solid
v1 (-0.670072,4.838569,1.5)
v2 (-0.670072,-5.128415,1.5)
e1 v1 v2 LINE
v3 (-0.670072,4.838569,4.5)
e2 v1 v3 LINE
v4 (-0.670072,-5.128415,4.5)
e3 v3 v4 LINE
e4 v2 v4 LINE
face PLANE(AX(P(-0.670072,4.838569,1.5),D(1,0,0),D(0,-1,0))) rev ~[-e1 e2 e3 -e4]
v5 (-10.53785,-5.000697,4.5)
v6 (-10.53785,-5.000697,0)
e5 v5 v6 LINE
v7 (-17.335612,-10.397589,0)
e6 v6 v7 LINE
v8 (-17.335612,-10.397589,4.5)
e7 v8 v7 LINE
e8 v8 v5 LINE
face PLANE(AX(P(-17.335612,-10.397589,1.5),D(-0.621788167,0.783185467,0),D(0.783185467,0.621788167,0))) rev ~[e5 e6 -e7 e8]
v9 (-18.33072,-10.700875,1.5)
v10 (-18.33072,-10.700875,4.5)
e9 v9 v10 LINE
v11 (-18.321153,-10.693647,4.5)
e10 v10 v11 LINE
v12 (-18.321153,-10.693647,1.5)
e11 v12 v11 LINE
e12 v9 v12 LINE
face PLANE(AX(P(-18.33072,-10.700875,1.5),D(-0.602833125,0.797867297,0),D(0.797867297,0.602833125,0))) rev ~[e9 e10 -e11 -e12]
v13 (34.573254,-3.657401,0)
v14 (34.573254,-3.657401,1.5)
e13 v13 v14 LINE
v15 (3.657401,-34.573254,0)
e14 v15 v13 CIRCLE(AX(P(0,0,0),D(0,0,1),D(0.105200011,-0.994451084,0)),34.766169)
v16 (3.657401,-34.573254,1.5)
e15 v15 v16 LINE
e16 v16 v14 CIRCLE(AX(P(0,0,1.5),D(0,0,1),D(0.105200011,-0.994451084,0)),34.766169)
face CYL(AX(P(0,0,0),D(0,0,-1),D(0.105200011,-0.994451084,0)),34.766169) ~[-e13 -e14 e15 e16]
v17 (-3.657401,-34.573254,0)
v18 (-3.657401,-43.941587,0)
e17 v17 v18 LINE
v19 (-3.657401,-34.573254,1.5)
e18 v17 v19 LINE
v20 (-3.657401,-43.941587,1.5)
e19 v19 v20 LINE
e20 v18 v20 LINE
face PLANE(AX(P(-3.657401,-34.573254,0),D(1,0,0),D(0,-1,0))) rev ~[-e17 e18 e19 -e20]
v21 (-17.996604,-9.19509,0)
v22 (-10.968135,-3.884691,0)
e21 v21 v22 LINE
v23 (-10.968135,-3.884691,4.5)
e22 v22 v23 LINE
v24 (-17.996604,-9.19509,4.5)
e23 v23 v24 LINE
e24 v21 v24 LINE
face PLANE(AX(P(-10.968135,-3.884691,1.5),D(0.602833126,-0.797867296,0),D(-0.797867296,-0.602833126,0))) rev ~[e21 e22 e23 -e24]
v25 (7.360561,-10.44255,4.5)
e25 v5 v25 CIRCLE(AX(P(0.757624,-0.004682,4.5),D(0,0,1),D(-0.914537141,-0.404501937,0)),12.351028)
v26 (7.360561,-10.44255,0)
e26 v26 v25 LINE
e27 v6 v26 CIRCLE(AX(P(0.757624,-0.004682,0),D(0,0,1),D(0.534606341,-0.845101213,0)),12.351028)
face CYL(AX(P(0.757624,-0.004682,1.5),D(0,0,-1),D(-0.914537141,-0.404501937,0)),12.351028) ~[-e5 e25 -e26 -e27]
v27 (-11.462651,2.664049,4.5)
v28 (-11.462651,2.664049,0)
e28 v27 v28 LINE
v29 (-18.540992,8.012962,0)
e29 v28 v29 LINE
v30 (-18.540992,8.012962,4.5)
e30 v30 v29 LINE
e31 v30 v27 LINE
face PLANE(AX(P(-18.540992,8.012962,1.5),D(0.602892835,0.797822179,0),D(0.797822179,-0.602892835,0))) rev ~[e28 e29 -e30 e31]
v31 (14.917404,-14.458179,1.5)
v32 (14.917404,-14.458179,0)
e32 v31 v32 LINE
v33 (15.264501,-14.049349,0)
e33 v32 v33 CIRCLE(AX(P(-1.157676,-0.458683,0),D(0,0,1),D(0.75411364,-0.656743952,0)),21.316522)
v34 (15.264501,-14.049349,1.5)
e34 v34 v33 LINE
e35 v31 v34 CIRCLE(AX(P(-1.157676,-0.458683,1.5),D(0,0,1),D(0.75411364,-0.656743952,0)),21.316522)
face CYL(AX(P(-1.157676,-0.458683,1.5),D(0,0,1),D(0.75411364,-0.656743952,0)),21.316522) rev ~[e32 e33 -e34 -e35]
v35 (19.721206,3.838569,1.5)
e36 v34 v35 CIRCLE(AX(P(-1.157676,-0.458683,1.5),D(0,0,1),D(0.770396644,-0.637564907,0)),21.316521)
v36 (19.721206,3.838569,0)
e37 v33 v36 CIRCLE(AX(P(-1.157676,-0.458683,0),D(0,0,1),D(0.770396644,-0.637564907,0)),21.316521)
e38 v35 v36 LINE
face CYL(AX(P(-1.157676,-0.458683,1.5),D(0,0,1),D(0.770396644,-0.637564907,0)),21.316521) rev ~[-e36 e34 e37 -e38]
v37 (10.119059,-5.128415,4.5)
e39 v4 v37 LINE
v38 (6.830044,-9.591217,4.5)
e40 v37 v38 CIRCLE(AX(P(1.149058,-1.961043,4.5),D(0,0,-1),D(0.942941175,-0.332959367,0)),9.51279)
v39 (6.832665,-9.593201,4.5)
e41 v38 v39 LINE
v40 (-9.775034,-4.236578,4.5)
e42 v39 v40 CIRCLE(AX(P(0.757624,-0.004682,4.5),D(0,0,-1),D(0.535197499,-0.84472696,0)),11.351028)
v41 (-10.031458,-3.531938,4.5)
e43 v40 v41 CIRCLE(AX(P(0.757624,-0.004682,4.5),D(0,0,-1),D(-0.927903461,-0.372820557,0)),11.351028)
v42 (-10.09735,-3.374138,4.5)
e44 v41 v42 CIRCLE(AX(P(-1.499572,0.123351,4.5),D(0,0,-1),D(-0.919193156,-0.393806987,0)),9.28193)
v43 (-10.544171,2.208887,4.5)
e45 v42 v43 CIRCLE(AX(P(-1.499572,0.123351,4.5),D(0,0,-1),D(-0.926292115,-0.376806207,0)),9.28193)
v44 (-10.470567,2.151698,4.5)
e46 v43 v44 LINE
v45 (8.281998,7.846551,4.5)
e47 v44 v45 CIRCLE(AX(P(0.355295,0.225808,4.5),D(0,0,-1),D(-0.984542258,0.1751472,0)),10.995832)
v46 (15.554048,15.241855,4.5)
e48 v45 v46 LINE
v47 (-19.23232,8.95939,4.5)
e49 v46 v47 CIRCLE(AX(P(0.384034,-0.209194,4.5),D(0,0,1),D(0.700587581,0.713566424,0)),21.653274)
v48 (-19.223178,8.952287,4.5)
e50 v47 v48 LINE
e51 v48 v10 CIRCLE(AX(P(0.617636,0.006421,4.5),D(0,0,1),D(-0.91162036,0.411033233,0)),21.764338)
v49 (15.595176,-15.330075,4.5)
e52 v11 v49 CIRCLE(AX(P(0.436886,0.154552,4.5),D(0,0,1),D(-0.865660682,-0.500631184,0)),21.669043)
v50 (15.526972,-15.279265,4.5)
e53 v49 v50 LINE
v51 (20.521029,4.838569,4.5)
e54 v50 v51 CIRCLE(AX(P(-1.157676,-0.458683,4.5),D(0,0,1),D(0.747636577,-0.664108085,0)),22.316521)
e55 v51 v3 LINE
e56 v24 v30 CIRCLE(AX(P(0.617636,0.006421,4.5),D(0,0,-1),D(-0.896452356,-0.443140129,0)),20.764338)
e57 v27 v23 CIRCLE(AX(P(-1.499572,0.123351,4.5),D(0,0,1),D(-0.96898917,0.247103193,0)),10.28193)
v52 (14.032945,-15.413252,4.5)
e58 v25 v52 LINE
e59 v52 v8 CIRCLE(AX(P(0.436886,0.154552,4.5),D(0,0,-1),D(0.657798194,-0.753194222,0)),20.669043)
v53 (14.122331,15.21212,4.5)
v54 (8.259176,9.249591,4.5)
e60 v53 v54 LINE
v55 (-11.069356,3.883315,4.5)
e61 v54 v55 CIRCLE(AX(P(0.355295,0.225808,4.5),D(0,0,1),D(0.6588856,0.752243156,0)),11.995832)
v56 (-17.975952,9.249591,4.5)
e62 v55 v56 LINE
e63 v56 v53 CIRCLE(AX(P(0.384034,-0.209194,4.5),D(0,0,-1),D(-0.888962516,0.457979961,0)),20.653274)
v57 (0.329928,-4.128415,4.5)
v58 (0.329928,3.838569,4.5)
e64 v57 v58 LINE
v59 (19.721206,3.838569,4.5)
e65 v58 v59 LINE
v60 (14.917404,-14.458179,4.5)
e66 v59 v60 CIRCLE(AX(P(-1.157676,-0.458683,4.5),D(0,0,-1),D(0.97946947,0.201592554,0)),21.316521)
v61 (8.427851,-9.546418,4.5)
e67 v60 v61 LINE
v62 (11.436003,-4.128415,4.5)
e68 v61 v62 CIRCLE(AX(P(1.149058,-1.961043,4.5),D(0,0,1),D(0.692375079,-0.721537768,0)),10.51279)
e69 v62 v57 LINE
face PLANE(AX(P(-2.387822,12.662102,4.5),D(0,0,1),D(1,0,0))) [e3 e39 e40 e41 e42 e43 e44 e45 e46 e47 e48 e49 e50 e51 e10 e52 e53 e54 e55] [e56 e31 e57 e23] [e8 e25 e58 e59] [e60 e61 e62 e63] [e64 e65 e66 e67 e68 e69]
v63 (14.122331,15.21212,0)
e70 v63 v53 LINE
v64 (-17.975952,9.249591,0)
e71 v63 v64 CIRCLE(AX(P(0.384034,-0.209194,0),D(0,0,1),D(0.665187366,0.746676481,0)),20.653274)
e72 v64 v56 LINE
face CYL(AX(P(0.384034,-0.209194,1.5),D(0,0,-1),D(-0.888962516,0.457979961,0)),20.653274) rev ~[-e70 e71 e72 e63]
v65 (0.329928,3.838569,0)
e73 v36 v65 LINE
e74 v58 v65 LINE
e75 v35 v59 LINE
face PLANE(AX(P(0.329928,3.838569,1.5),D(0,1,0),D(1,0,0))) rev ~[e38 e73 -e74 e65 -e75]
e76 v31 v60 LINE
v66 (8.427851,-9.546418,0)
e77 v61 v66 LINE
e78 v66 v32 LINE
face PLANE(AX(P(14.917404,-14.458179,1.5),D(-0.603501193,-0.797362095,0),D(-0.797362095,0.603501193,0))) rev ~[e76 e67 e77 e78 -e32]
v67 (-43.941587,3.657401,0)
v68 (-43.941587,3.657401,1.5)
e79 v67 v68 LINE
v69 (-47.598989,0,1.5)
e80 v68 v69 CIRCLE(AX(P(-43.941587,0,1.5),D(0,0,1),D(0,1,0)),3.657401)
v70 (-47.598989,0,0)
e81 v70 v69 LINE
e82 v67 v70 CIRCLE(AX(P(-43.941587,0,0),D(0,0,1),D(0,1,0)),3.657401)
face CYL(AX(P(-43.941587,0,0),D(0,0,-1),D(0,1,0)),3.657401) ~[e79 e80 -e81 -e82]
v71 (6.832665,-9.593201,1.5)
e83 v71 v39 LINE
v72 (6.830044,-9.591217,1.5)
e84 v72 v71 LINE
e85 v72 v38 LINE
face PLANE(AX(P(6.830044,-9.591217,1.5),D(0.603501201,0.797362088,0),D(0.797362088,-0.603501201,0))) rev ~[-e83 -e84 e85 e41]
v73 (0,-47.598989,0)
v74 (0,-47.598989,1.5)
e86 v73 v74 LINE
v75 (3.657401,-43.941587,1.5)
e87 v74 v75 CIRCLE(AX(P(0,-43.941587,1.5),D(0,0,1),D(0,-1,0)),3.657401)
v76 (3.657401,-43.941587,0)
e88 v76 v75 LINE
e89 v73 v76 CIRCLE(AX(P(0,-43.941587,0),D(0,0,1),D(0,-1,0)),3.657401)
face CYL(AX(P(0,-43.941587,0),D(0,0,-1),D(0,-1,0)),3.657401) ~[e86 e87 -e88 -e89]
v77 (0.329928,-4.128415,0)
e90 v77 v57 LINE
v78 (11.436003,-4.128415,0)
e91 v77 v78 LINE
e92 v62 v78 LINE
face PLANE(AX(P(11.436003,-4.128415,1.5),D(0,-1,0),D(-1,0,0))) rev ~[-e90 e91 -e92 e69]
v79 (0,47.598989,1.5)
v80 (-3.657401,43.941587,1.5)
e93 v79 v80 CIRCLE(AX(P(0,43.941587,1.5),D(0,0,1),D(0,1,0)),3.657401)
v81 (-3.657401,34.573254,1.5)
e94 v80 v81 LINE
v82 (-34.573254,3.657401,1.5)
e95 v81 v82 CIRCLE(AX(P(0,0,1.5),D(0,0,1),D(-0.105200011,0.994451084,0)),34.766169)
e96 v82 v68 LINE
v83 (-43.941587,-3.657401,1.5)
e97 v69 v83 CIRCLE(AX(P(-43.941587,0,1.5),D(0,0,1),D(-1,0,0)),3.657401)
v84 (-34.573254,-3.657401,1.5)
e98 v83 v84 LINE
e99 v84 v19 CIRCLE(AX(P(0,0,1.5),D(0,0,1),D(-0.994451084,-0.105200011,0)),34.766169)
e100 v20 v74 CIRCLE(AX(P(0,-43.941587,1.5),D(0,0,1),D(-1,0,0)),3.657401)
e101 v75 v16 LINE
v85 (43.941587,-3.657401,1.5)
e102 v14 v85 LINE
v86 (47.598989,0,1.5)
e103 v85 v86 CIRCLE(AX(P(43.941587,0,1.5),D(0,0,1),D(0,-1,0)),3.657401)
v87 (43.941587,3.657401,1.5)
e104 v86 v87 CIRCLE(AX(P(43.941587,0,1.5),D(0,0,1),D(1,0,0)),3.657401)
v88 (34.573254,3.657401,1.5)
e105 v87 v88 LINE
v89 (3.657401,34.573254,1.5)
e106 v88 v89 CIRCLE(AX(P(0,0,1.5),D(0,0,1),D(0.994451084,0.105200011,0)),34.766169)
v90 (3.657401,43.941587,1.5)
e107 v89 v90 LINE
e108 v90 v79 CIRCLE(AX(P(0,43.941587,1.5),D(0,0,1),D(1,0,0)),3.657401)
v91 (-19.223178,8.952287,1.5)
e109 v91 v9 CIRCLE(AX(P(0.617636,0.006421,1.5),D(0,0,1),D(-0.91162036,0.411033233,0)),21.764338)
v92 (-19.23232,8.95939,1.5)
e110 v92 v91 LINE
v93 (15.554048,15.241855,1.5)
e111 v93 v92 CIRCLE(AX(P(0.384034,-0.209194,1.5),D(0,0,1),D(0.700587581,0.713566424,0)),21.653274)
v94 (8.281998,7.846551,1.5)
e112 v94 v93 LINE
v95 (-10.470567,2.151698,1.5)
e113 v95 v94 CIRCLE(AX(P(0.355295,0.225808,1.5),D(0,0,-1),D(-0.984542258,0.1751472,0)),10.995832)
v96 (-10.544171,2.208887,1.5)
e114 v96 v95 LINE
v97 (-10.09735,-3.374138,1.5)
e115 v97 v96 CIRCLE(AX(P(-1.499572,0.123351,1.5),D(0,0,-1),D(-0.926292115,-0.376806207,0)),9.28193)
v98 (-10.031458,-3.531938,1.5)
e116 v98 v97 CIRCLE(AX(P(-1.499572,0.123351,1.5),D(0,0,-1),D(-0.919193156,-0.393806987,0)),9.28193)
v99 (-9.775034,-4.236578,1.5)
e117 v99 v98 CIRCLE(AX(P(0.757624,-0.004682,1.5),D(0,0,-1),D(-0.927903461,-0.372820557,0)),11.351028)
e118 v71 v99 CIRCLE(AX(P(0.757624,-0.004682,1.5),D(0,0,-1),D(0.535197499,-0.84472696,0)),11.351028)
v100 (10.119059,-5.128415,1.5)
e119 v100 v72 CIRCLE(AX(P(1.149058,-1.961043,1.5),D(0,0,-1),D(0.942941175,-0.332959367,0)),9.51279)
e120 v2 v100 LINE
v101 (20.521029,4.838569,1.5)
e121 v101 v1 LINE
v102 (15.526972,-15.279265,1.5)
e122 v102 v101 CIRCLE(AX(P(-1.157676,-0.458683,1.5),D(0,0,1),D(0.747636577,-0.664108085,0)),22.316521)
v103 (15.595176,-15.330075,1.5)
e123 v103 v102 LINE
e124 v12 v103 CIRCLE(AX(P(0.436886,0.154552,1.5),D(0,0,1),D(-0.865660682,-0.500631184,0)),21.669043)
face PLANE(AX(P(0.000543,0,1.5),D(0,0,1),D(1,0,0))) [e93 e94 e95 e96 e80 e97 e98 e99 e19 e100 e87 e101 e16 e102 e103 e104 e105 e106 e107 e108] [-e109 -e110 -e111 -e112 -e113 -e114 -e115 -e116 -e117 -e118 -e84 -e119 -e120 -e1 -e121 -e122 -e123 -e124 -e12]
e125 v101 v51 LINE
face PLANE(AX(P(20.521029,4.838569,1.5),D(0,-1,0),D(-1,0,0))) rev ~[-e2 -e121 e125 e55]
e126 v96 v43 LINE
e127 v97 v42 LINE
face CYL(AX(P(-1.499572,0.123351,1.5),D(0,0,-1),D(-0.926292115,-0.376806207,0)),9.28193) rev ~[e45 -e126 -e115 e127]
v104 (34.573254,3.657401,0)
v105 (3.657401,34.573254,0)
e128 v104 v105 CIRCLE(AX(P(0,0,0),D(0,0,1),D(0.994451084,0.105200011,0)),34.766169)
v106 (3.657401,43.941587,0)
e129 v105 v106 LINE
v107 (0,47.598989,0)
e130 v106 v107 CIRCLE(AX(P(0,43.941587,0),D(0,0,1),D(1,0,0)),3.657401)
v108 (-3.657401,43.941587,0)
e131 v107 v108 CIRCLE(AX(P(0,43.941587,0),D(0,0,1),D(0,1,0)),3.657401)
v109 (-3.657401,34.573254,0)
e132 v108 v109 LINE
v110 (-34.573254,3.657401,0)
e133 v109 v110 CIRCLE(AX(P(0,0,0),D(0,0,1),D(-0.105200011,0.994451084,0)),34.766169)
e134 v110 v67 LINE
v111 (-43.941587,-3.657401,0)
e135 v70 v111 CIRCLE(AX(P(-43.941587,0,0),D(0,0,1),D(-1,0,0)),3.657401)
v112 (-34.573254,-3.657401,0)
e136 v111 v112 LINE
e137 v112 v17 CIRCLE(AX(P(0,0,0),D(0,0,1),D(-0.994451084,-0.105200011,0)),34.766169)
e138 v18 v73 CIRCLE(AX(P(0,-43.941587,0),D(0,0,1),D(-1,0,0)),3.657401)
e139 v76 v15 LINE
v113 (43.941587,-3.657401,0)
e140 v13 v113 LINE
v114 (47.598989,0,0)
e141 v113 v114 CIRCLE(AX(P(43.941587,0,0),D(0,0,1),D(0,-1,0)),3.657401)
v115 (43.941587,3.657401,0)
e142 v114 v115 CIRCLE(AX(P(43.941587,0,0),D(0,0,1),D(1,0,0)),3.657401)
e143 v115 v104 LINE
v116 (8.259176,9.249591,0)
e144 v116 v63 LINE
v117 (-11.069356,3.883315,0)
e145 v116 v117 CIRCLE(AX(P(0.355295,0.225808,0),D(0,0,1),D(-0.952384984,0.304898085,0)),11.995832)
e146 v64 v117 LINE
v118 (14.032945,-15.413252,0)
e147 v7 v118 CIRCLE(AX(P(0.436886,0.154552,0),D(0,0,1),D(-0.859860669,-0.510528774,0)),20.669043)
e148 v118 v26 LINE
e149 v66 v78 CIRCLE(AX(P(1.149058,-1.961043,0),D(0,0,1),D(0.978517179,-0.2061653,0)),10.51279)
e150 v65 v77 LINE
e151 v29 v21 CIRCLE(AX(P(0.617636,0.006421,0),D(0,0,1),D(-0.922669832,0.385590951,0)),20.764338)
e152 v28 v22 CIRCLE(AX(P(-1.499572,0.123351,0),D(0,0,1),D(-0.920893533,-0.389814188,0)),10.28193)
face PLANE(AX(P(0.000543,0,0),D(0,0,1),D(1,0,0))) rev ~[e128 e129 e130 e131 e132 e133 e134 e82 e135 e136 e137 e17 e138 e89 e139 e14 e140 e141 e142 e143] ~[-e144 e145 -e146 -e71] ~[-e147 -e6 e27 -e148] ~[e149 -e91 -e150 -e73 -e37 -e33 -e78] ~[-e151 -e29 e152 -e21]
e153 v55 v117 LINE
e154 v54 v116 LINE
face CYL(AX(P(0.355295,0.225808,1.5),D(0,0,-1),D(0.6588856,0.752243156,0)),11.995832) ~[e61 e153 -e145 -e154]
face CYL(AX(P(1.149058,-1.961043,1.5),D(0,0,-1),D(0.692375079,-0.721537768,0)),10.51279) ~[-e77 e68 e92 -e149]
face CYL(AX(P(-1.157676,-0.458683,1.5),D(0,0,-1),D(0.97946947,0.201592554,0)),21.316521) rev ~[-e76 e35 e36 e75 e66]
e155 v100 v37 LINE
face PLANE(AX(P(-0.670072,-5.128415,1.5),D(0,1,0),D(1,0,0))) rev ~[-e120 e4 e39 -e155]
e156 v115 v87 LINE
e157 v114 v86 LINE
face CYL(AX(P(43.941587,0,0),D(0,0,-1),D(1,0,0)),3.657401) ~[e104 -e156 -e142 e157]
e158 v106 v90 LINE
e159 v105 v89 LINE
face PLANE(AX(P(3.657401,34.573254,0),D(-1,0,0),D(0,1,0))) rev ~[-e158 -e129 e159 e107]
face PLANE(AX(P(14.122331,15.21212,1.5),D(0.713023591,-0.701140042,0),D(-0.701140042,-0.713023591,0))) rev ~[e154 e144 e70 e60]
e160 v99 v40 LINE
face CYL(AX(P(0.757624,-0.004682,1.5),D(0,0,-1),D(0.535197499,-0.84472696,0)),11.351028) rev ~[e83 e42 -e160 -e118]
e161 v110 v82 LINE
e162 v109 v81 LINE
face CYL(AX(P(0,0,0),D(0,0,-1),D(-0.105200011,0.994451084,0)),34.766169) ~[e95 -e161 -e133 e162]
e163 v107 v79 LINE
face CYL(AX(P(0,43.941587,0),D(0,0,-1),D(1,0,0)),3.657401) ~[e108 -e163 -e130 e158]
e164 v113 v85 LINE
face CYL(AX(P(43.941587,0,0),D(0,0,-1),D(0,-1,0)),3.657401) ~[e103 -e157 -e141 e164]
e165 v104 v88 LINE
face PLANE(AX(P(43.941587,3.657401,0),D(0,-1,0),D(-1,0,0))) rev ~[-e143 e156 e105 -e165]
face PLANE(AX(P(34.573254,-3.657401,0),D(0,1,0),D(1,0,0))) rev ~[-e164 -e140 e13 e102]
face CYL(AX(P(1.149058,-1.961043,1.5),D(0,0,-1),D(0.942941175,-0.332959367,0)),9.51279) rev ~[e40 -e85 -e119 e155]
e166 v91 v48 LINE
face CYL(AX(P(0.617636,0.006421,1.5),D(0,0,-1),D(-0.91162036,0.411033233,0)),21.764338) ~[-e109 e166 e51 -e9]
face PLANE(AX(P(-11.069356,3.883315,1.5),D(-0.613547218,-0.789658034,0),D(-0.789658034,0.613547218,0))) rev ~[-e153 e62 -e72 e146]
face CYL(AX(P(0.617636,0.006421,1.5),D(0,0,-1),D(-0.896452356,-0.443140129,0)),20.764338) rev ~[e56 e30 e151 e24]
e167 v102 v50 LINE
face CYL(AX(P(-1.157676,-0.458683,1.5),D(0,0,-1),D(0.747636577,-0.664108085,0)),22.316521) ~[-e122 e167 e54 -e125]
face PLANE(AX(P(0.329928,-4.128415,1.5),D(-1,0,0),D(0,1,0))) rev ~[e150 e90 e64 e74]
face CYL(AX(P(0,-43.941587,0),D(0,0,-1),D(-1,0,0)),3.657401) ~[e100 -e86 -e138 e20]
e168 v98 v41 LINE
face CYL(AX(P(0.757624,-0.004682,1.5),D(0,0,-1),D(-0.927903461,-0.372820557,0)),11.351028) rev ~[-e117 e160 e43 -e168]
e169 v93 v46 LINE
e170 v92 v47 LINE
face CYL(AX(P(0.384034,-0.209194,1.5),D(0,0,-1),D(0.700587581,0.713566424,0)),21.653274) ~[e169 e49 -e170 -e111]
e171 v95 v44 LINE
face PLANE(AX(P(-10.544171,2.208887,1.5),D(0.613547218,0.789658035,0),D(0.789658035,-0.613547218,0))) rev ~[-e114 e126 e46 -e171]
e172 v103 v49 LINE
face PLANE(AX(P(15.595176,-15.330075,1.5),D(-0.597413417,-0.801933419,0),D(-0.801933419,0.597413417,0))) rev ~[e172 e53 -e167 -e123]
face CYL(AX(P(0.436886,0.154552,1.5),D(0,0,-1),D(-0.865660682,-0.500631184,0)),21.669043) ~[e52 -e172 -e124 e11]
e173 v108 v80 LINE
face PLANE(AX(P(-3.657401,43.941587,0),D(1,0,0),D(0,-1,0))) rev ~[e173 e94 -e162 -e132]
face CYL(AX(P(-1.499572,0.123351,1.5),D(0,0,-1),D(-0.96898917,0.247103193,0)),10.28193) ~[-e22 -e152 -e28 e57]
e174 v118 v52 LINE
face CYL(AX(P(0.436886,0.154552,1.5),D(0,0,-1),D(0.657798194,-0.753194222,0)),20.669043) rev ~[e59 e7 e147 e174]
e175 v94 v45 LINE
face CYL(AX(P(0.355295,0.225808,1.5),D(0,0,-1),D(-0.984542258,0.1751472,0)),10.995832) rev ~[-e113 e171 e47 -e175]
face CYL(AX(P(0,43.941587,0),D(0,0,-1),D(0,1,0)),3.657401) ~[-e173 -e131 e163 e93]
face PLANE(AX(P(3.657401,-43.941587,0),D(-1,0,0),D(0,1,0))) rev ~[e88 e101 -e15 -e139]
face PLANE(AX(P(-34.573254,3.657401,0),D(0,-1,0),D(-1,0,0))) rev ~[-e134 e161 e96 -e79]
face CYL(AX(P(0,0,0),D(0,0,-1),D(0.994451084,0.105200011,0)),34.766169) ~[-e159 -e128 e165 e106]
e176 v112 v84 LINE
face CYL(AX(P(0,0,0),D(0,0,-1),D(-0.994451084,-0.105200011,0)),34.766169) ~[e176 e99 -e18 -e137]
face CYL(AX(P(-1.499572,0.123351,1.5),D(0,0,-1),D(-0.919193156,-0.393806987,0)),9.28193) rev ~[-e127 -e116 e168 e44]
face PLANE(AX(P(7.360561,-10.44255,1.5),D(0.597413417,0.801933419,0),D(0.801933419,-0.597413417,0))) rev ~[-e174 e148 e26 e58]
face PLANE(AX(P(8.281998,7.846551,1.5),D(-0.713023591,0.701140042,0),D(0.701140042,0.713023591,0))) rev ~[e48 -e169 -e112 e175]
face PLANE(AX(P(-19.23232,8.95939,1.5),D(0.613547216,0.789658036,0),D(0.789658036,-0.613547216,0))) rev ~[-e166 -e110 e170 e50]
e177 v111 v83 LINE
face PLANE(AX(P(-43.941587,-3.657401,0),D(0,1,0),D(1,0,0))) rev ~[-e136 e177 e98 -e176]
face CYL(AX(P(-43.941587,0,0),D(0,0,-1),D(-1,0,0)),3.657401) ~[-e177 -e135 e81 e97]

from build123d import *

# Parameters (mm, degrees)
F1_DEPTH = 3
F3_DEPTH = 25
F5_DEPTH = 6
F6_SCALE = 0.5


with BuildPart() as f1:
    # F0 (on Top) → F1 (new body)
    with BuildSketch(Plane.XY):
        with BuildLine():
            ThreePointArc((69.1465082783, -7.3148026297), (69.4358131239, -3.6624855503), (69.532337402, 0))
            ThreePointArc((69.532337402, 0), (69.4358131239, 3.6624855503), (69.1465082783, 7.3148026297))
            ThreePointArc((69.1465082783, 7.3148026297), (49.1667872887, 49.1667872887), (7.3148026297, 69.1465082783))
            ThreePointArc((7.3148026297, 69.1465082783), (0, 69.532337402), (-7.3148026297, 69.1465082783))
            ThreePointArc((-7.3148026297, 69.1465082783), (-49.1667872887, 49.1667872887), (-69.1465082783, 7.3148026297))
            ThreePointArc((-69.1465082783, 7.3148026297), (-69.532337402, 0), (-69.1465082783, -7.3148026297))
            ThreePointArc((-69.1465082783, -7.3148026297), (-49.1667872887, -49.1667872887), (-7.3148026297, -69.1465082783))
            ThreePointArc((-7.3148026297, -69.1465082783), (0, -69.532337402), (7.3148026297, -69.1465082783))
            ThreePointArc((7.3148026297, -69.1465082783), (49.1667872887, -49.1667872887), (69.1465082783, -7.3148026297))
        make_face()
        with BuildLine():
            ThreePointArc((69.1465082783, 7.3148026297), (69.4358131239, 3.6624855503), (69.532337402, 0))
            ThreePointArc((69.532337402, 0), (69.4358131239, -3.6624855503), (69.1465082783, -7.3148026297))
            Line((69.1465082783, -7.3148026297), (87.8831749798, -7.3148026297))
            ThreePointArc((87.8831749798, -7.3148026297), (93.0555215223, -5.1723465425), (95.1979776095, 0))
            ThreePointArc((95.1979776095, 0), (93.0555215223, 5.1723465425), (87.8831749798, 7.3148026297))
            Line((87.8831749798, 7.3148026297), (69.1465082783, 7.3148026297))
        make_face()
        with BuildLine():
            ThreePointArc((-7.3148026297, 69.1465082783), (0, 69.532337402), (7.3148026297, 69.1465082783))
            Line((7.3148026297, 69.1465082783), (7.3148026297, 87.8831749798))
            ThreePointArc((7.3148026297, 87.8831749798), (5.1723465425, 93.0555215223), (0, 95.1979776095))
            ThreePointArc((0, 95.1979776095), (-5.1723465425, 93.0555215223), (-7.3148026297, 87.8831749798))
            Line((-7.3148026297, 87.8831749798), (-7.3148026297, 69.1465082783))
        make_face()
        with BuildLine():
            Line((7.3148026297, -87.8831749798), (7.3148026297, -69.1465082783))
            ThreePointArc((7.3148026297, -69.1465082783), (0, -69.532337402), (-7.3148026297, -69.1465082783))
            Line((-7.3148026297, -69.1465082783), (-7.3148026297, -87.8831749798))
            ThreePointArc((-7.3148026297, -87.8831749798), (-5.1723465425, -93.0555215223), (0, -95.1979776095))
            ThreePointArc((0, -95.1979776095), (5.1723465425, -93.0555215223), (7.3148026297, -87.8831749798))
        make_face()
        with BuildLine():
            ThreePointArc((-69.1465082783, -7.3148026297), (-69.532337402, 0), (-69.1465082783, 7.3148026297))
            Line((-69.1465082783, 7.3148026297), (-87.8831749798, 7.3148026297))
            ThreePointArc((-87.8831749798, 7.3148026297), (-93.0555215223, 5.1723465425), (-95.1979776095, 0))
            ThreePointArc((-95.1979776095, 0), (-93.0555215223, -5.1723465425), (-87.8831749798, -7.3148026297))
            Line((-87.8831749798, -7.3148026297), (-69.1465082783, -7.3148026297))
        make_face()
    extrude(amount=F1_DEPTH)

    # F2 (on face) → F3 (cut)
    with BuildSketch(Plane.XY.offset(3)):
        with BuildLine():
            Line((16.5183525532, 18.4991825372), (28.2446611673, 30.4242391139))
            ThreePointArc((28.2446611673, 30.4242391139), (-6.7759205764, 40.1934215699), (-35.9519049525, 18.4991825372))
            Line((-35.9519049525, 18.4991825372), (-22.1387110651, 7.7666295692))
            ThreePointArc((-22.1387110651, 7.7666295692), (-5.7075669458, 23.5688666851), (16.5183525532, 18.4991825372))
        make_face()
        with BuildLine():
            Line((0.6598568289, -8.2568302751), (22.8720060756, -8.2568302751))
            ThreePointArc((22.8720060756, -8.2568302751), (20.6804420753, -14.1282137838), (16.8557025786, -19.0928351043))
            Line((16.8557025786, -19.0928351043), (29.8348077707, -28.9163588455))
            ThreePointArc((29.8348077707, -28.9163588455), (30.1844763243, -28.5097115536), (30.5290018042, -28.0986977933))
            ThreePointArc((30.5290018042, -28.0986977933), (39.0530735531, -11.2241482879), (39.4424125552, 7.6771383174))
            Line((39.4424125552, 7.6771383174), (0.6598568289, 7.6771383174))
            Line((0.6598568289, 7.6771383174), (0.6598568289, -8.2568302751))
        make_face()
        with BuildLine():
            ThreePointArc((-21.936269477, -7.7693820931), (-23.5046233838, -1.3017309627), (-22.9253014498, 5.3280979354))
            Line((-22.9253014498, 5.3280979354), (-37.0819843029, 16.0259236856))
            ThreePointArc((-37.0819843029, 16.0259236856), (-40.272638067, -1.3002890528), (-35.9932072461, -18.3901805431))
            Line((-35.9932072461, -18.3901805431), (-21.936269477, -7.7693820931))
        make_face()
        with BuildLine():
            Line((-21.0756994649, -10.0013930179), (-34.6712230282, -20.7951781903))
            ThreePointArc((-34.6712230282, -20.7951781903), (-5.653058159, -40.5104727569), (28.0658900738, -30.8265034109))
            Line((28.0658900738, -30.8265034109), (14.7211225703, -20.8851005882))
            ThreePointArc((14.7211225703, -20.8851005882), (-5.6704095402, -23.6431925936), (-21.0756994649, -10.0013930179))
        make_face()
    extrude(amount=-F3_DEPTH, mode=Mode.SUBTRACT)

    # F4 (on face) → F5 (join)
    with BuildSketch(Plane.XY.offset(3)):
        with BuildLine():
            Line((16.5639953805, 15.693101771), (31.1080969783, 30.4837098063))
            ThreePointArc((31.1080969783, 30.4837098063), (-6.9286387342, 42.198718121), (-38.464639275, 17.9187808608))
            Line((-38.464639275, 17.9187808608), (-38.4463550975, 17.9045744503))
            Line((-38.4463550975, 17.9045744503), (-21.0883413572, 4.4177731062))
            Line((-21.0883413572, 4.4177731062), (-20.9411330852, 4.303395462))
            ThreePointArc((-20.9411330852, 4.303395462), (-5.6797522011, 21.4943554028), (16.5639953805, 15.693101771))
        make_face()
        with BuildLine():
            ThreePointArc((-35.9519049525, 18.4991825372), (-6.7759205764, 40.1934215699), (28.2446611673, 30.4242391139))
            Line((28.2446611673, 30.4242391139), (16.5183525532, 18.4991825372))
            ThreePointArc((16.5183525532, 18.4991825372), (-5.7075669458, 23.5688666851), (-22.1387110651, 7.7666295692))
            Line((-22.1387110651, 7.7666295692), (-35.9519049525, 18.4991825372))
        make_face(mode=Mode.SUBTRACT)
        with BuildLine():
            Line((-19.5500680933, -8.473156722), (-36.6423058309, -21.3872931472))
            ThreePointArc((-36.6423058309, -21.3872931472), (-4.9960373644, -42.6296318895), (31.1903517483, -30.6601496082))
            Line((31.1903517483, -30.6601496082), (31.0539440179, -30.5585304384))
            ThreePointArc((31.0539440179, -30.5585304384), (30.573900942, -31.0902940329), (30.0853848234, -31.6142843735))
            Line((30.0853848234, -31.6142843735), (13.66533039, -19.1864018522))
            ThreePointArc((13.66533039, -19.1864018522), (-5.4535220983, -21.615371302), (-19.5500680933, -8.473156722))
        make_face()
        with BuildLine():
            ThreePointArc((-21.0756994649, -10.0013930179), (-5.6704095402, -23.6431925936), (14.7211225703, -20.8851005882))
            Line((14.7211225703, -20.8851005882), (28.0658900738, -30.8265034109))
            ThreePointArc((28.0658900738, -30.8265034109), (-5.653058159, -40.5104727569), (-34.6712230282, -20.7951781903))
            Line((-34.6712230282, -20.7951781903), (-21.0756994649, -10.0013930179))
        make_face(mode=Mode.SUBTRACT)
        with BuildLine():
            Line((-21.0883413572, 4.4177731062), (-38.4463550975, 17.9045744503))
            ThreePointArc((-38.4463550975, 17.9045744503), (-42.2485928064, -1.9617758618), (-36.6614406796, -21.4017505898))
            Line((-36.6614406796, -21.4017505898), (-36.6423058309, -21.3872931472))
            ThreePointArc((-36.6423058309, -21.3872931472), (-36.9523718103, -20.8420801294), (-37.2545148762, -20.2924368686))
            Line((-37.2545148762, -20.2924368686), (-20.1947009372, -6.7482753745))
            ThreePointArc((-20.1947009372, -6.7482753745), (-21.5038361154, -1.2342638661), (-21.0883413572, 4.4177731062))
        make_face()
        with BuildLine():
            Line((-21.936269477, -7.7693820931), (-35.9932072461, -18.3901805431))
            ThreePointArc((-35.9932072461, -18.3901805431), (-40.272638067, -1.3002890528), (-37.0819843029, 16.0259236856))
            Line((-37.0819843029, 16.0259236856), (-22.9253014498, 5.3280979354))
            ThreePointArc((-22.9253014498, 5.3280979354), (-23.5046233838, -1.3017309627), (-21.936269477, -7.7693820931))
        make_face(mode=Mode.SUBTRACT)
        with BuildLine():
            ThreePointArc((-20.0629168504, -7.0638754616), (-20.1295357126, -6.9063789134), (-20.1947009372, -6.7482753745))
            Line((-20.1947009372, -6.7482753745), (-37.2545148762, -20.2924368686))
            ThreePointArc((-37.2545148762, -20.2924368686), (-36.9523718103, -20.8420801294), (-36.6423058309, -21.3872931472))
            Line((-36.6423058309, -21.3872931472), (-19.5500680933, -8.473156722))
            ThreePointArc((-19.5500680933, -8.473156722), (-19.8181327724, -7.7727520906), (-20.0629168504, -7.0638754616))
        make_face()
        with BuildLine():
            ThreePointArc((14.778628294, -18.4339677859), (14.2275475814, -18.8184235598), (13.66533039, -19.1864018522))
            Line((13.66533039, -19.1864018522), (30.0853848234, -31.6142843735))
            ThreePointArc((30.0853848234, -31.6142843735), (30.573900942, -31.0902940329), (31.0539440179, -30.5585304384))
            Line((31.0539440179, -30.5585304384), (14.778628294, -18.4339677859))
        make_face()
        with BuildLine():
            Line((13.660088258, -19.1824342282), (13.66533039, -19.1864018522))
            ThreePointArc((13.66533039, -19.1864018522), (14.2275475814, -18.8184235598), (14.778628294, -18.4339677859))
            Line((14.778628294, -18.4339677859), (31.0539440179, -30.5585304384))
            ThreePointArc((31.0539440179, -30.5585304384), (41.0029367993, -11.6707107453), (41.0420586495, 9.6771383174))
            Line((41.0420586495, 9.6771383174), (-1.3401431711, 9.6771383174))
            Line((-1.3401431711, 9.6771383174), (-1.3401431711, -10.2568302751))
            Line((-1.3401431711, -10.2568302751), (20.238117635, -10.2568302751))
            ThreePointArc((20.238117635, -10.2568302751), (17.6137295695, -15.2094515931), (13.660088258, -19.1824342282))
        make_face()
        with BuildLine():
            Line((0.6598568289, -8.2568302751), (0.6598568289, 7.6771383174))
            Line((0.6598568289, 7.6771383174), (39.4424125552, 7.6771383174))
            ThreePointArc((39.4424125552, 7.6771383174), (38.9201464557, -11.7437255239), (29.8348077707, -28.9163588455))
            Line((29.8348077707, -28.9163588455), (16.8557025786, -19.0928351043))
            ThreePointArc((16.8557025786, -19.0928351043), (20.6804420753, -14.1282137838), (22.8720060756, -8.2568302751))
            Line((22.8720060756, -8.2568302751), (0.6598568289, -8.2568302751))
        make_face(mode=Mode.SUBTRACT)
    extrude(amount=F5_DEPTH)


with BuildPart() as f1_1:
    # F6: moved
    add(f1.part.scale(F6_SCALE))


solid = f1_1.part
